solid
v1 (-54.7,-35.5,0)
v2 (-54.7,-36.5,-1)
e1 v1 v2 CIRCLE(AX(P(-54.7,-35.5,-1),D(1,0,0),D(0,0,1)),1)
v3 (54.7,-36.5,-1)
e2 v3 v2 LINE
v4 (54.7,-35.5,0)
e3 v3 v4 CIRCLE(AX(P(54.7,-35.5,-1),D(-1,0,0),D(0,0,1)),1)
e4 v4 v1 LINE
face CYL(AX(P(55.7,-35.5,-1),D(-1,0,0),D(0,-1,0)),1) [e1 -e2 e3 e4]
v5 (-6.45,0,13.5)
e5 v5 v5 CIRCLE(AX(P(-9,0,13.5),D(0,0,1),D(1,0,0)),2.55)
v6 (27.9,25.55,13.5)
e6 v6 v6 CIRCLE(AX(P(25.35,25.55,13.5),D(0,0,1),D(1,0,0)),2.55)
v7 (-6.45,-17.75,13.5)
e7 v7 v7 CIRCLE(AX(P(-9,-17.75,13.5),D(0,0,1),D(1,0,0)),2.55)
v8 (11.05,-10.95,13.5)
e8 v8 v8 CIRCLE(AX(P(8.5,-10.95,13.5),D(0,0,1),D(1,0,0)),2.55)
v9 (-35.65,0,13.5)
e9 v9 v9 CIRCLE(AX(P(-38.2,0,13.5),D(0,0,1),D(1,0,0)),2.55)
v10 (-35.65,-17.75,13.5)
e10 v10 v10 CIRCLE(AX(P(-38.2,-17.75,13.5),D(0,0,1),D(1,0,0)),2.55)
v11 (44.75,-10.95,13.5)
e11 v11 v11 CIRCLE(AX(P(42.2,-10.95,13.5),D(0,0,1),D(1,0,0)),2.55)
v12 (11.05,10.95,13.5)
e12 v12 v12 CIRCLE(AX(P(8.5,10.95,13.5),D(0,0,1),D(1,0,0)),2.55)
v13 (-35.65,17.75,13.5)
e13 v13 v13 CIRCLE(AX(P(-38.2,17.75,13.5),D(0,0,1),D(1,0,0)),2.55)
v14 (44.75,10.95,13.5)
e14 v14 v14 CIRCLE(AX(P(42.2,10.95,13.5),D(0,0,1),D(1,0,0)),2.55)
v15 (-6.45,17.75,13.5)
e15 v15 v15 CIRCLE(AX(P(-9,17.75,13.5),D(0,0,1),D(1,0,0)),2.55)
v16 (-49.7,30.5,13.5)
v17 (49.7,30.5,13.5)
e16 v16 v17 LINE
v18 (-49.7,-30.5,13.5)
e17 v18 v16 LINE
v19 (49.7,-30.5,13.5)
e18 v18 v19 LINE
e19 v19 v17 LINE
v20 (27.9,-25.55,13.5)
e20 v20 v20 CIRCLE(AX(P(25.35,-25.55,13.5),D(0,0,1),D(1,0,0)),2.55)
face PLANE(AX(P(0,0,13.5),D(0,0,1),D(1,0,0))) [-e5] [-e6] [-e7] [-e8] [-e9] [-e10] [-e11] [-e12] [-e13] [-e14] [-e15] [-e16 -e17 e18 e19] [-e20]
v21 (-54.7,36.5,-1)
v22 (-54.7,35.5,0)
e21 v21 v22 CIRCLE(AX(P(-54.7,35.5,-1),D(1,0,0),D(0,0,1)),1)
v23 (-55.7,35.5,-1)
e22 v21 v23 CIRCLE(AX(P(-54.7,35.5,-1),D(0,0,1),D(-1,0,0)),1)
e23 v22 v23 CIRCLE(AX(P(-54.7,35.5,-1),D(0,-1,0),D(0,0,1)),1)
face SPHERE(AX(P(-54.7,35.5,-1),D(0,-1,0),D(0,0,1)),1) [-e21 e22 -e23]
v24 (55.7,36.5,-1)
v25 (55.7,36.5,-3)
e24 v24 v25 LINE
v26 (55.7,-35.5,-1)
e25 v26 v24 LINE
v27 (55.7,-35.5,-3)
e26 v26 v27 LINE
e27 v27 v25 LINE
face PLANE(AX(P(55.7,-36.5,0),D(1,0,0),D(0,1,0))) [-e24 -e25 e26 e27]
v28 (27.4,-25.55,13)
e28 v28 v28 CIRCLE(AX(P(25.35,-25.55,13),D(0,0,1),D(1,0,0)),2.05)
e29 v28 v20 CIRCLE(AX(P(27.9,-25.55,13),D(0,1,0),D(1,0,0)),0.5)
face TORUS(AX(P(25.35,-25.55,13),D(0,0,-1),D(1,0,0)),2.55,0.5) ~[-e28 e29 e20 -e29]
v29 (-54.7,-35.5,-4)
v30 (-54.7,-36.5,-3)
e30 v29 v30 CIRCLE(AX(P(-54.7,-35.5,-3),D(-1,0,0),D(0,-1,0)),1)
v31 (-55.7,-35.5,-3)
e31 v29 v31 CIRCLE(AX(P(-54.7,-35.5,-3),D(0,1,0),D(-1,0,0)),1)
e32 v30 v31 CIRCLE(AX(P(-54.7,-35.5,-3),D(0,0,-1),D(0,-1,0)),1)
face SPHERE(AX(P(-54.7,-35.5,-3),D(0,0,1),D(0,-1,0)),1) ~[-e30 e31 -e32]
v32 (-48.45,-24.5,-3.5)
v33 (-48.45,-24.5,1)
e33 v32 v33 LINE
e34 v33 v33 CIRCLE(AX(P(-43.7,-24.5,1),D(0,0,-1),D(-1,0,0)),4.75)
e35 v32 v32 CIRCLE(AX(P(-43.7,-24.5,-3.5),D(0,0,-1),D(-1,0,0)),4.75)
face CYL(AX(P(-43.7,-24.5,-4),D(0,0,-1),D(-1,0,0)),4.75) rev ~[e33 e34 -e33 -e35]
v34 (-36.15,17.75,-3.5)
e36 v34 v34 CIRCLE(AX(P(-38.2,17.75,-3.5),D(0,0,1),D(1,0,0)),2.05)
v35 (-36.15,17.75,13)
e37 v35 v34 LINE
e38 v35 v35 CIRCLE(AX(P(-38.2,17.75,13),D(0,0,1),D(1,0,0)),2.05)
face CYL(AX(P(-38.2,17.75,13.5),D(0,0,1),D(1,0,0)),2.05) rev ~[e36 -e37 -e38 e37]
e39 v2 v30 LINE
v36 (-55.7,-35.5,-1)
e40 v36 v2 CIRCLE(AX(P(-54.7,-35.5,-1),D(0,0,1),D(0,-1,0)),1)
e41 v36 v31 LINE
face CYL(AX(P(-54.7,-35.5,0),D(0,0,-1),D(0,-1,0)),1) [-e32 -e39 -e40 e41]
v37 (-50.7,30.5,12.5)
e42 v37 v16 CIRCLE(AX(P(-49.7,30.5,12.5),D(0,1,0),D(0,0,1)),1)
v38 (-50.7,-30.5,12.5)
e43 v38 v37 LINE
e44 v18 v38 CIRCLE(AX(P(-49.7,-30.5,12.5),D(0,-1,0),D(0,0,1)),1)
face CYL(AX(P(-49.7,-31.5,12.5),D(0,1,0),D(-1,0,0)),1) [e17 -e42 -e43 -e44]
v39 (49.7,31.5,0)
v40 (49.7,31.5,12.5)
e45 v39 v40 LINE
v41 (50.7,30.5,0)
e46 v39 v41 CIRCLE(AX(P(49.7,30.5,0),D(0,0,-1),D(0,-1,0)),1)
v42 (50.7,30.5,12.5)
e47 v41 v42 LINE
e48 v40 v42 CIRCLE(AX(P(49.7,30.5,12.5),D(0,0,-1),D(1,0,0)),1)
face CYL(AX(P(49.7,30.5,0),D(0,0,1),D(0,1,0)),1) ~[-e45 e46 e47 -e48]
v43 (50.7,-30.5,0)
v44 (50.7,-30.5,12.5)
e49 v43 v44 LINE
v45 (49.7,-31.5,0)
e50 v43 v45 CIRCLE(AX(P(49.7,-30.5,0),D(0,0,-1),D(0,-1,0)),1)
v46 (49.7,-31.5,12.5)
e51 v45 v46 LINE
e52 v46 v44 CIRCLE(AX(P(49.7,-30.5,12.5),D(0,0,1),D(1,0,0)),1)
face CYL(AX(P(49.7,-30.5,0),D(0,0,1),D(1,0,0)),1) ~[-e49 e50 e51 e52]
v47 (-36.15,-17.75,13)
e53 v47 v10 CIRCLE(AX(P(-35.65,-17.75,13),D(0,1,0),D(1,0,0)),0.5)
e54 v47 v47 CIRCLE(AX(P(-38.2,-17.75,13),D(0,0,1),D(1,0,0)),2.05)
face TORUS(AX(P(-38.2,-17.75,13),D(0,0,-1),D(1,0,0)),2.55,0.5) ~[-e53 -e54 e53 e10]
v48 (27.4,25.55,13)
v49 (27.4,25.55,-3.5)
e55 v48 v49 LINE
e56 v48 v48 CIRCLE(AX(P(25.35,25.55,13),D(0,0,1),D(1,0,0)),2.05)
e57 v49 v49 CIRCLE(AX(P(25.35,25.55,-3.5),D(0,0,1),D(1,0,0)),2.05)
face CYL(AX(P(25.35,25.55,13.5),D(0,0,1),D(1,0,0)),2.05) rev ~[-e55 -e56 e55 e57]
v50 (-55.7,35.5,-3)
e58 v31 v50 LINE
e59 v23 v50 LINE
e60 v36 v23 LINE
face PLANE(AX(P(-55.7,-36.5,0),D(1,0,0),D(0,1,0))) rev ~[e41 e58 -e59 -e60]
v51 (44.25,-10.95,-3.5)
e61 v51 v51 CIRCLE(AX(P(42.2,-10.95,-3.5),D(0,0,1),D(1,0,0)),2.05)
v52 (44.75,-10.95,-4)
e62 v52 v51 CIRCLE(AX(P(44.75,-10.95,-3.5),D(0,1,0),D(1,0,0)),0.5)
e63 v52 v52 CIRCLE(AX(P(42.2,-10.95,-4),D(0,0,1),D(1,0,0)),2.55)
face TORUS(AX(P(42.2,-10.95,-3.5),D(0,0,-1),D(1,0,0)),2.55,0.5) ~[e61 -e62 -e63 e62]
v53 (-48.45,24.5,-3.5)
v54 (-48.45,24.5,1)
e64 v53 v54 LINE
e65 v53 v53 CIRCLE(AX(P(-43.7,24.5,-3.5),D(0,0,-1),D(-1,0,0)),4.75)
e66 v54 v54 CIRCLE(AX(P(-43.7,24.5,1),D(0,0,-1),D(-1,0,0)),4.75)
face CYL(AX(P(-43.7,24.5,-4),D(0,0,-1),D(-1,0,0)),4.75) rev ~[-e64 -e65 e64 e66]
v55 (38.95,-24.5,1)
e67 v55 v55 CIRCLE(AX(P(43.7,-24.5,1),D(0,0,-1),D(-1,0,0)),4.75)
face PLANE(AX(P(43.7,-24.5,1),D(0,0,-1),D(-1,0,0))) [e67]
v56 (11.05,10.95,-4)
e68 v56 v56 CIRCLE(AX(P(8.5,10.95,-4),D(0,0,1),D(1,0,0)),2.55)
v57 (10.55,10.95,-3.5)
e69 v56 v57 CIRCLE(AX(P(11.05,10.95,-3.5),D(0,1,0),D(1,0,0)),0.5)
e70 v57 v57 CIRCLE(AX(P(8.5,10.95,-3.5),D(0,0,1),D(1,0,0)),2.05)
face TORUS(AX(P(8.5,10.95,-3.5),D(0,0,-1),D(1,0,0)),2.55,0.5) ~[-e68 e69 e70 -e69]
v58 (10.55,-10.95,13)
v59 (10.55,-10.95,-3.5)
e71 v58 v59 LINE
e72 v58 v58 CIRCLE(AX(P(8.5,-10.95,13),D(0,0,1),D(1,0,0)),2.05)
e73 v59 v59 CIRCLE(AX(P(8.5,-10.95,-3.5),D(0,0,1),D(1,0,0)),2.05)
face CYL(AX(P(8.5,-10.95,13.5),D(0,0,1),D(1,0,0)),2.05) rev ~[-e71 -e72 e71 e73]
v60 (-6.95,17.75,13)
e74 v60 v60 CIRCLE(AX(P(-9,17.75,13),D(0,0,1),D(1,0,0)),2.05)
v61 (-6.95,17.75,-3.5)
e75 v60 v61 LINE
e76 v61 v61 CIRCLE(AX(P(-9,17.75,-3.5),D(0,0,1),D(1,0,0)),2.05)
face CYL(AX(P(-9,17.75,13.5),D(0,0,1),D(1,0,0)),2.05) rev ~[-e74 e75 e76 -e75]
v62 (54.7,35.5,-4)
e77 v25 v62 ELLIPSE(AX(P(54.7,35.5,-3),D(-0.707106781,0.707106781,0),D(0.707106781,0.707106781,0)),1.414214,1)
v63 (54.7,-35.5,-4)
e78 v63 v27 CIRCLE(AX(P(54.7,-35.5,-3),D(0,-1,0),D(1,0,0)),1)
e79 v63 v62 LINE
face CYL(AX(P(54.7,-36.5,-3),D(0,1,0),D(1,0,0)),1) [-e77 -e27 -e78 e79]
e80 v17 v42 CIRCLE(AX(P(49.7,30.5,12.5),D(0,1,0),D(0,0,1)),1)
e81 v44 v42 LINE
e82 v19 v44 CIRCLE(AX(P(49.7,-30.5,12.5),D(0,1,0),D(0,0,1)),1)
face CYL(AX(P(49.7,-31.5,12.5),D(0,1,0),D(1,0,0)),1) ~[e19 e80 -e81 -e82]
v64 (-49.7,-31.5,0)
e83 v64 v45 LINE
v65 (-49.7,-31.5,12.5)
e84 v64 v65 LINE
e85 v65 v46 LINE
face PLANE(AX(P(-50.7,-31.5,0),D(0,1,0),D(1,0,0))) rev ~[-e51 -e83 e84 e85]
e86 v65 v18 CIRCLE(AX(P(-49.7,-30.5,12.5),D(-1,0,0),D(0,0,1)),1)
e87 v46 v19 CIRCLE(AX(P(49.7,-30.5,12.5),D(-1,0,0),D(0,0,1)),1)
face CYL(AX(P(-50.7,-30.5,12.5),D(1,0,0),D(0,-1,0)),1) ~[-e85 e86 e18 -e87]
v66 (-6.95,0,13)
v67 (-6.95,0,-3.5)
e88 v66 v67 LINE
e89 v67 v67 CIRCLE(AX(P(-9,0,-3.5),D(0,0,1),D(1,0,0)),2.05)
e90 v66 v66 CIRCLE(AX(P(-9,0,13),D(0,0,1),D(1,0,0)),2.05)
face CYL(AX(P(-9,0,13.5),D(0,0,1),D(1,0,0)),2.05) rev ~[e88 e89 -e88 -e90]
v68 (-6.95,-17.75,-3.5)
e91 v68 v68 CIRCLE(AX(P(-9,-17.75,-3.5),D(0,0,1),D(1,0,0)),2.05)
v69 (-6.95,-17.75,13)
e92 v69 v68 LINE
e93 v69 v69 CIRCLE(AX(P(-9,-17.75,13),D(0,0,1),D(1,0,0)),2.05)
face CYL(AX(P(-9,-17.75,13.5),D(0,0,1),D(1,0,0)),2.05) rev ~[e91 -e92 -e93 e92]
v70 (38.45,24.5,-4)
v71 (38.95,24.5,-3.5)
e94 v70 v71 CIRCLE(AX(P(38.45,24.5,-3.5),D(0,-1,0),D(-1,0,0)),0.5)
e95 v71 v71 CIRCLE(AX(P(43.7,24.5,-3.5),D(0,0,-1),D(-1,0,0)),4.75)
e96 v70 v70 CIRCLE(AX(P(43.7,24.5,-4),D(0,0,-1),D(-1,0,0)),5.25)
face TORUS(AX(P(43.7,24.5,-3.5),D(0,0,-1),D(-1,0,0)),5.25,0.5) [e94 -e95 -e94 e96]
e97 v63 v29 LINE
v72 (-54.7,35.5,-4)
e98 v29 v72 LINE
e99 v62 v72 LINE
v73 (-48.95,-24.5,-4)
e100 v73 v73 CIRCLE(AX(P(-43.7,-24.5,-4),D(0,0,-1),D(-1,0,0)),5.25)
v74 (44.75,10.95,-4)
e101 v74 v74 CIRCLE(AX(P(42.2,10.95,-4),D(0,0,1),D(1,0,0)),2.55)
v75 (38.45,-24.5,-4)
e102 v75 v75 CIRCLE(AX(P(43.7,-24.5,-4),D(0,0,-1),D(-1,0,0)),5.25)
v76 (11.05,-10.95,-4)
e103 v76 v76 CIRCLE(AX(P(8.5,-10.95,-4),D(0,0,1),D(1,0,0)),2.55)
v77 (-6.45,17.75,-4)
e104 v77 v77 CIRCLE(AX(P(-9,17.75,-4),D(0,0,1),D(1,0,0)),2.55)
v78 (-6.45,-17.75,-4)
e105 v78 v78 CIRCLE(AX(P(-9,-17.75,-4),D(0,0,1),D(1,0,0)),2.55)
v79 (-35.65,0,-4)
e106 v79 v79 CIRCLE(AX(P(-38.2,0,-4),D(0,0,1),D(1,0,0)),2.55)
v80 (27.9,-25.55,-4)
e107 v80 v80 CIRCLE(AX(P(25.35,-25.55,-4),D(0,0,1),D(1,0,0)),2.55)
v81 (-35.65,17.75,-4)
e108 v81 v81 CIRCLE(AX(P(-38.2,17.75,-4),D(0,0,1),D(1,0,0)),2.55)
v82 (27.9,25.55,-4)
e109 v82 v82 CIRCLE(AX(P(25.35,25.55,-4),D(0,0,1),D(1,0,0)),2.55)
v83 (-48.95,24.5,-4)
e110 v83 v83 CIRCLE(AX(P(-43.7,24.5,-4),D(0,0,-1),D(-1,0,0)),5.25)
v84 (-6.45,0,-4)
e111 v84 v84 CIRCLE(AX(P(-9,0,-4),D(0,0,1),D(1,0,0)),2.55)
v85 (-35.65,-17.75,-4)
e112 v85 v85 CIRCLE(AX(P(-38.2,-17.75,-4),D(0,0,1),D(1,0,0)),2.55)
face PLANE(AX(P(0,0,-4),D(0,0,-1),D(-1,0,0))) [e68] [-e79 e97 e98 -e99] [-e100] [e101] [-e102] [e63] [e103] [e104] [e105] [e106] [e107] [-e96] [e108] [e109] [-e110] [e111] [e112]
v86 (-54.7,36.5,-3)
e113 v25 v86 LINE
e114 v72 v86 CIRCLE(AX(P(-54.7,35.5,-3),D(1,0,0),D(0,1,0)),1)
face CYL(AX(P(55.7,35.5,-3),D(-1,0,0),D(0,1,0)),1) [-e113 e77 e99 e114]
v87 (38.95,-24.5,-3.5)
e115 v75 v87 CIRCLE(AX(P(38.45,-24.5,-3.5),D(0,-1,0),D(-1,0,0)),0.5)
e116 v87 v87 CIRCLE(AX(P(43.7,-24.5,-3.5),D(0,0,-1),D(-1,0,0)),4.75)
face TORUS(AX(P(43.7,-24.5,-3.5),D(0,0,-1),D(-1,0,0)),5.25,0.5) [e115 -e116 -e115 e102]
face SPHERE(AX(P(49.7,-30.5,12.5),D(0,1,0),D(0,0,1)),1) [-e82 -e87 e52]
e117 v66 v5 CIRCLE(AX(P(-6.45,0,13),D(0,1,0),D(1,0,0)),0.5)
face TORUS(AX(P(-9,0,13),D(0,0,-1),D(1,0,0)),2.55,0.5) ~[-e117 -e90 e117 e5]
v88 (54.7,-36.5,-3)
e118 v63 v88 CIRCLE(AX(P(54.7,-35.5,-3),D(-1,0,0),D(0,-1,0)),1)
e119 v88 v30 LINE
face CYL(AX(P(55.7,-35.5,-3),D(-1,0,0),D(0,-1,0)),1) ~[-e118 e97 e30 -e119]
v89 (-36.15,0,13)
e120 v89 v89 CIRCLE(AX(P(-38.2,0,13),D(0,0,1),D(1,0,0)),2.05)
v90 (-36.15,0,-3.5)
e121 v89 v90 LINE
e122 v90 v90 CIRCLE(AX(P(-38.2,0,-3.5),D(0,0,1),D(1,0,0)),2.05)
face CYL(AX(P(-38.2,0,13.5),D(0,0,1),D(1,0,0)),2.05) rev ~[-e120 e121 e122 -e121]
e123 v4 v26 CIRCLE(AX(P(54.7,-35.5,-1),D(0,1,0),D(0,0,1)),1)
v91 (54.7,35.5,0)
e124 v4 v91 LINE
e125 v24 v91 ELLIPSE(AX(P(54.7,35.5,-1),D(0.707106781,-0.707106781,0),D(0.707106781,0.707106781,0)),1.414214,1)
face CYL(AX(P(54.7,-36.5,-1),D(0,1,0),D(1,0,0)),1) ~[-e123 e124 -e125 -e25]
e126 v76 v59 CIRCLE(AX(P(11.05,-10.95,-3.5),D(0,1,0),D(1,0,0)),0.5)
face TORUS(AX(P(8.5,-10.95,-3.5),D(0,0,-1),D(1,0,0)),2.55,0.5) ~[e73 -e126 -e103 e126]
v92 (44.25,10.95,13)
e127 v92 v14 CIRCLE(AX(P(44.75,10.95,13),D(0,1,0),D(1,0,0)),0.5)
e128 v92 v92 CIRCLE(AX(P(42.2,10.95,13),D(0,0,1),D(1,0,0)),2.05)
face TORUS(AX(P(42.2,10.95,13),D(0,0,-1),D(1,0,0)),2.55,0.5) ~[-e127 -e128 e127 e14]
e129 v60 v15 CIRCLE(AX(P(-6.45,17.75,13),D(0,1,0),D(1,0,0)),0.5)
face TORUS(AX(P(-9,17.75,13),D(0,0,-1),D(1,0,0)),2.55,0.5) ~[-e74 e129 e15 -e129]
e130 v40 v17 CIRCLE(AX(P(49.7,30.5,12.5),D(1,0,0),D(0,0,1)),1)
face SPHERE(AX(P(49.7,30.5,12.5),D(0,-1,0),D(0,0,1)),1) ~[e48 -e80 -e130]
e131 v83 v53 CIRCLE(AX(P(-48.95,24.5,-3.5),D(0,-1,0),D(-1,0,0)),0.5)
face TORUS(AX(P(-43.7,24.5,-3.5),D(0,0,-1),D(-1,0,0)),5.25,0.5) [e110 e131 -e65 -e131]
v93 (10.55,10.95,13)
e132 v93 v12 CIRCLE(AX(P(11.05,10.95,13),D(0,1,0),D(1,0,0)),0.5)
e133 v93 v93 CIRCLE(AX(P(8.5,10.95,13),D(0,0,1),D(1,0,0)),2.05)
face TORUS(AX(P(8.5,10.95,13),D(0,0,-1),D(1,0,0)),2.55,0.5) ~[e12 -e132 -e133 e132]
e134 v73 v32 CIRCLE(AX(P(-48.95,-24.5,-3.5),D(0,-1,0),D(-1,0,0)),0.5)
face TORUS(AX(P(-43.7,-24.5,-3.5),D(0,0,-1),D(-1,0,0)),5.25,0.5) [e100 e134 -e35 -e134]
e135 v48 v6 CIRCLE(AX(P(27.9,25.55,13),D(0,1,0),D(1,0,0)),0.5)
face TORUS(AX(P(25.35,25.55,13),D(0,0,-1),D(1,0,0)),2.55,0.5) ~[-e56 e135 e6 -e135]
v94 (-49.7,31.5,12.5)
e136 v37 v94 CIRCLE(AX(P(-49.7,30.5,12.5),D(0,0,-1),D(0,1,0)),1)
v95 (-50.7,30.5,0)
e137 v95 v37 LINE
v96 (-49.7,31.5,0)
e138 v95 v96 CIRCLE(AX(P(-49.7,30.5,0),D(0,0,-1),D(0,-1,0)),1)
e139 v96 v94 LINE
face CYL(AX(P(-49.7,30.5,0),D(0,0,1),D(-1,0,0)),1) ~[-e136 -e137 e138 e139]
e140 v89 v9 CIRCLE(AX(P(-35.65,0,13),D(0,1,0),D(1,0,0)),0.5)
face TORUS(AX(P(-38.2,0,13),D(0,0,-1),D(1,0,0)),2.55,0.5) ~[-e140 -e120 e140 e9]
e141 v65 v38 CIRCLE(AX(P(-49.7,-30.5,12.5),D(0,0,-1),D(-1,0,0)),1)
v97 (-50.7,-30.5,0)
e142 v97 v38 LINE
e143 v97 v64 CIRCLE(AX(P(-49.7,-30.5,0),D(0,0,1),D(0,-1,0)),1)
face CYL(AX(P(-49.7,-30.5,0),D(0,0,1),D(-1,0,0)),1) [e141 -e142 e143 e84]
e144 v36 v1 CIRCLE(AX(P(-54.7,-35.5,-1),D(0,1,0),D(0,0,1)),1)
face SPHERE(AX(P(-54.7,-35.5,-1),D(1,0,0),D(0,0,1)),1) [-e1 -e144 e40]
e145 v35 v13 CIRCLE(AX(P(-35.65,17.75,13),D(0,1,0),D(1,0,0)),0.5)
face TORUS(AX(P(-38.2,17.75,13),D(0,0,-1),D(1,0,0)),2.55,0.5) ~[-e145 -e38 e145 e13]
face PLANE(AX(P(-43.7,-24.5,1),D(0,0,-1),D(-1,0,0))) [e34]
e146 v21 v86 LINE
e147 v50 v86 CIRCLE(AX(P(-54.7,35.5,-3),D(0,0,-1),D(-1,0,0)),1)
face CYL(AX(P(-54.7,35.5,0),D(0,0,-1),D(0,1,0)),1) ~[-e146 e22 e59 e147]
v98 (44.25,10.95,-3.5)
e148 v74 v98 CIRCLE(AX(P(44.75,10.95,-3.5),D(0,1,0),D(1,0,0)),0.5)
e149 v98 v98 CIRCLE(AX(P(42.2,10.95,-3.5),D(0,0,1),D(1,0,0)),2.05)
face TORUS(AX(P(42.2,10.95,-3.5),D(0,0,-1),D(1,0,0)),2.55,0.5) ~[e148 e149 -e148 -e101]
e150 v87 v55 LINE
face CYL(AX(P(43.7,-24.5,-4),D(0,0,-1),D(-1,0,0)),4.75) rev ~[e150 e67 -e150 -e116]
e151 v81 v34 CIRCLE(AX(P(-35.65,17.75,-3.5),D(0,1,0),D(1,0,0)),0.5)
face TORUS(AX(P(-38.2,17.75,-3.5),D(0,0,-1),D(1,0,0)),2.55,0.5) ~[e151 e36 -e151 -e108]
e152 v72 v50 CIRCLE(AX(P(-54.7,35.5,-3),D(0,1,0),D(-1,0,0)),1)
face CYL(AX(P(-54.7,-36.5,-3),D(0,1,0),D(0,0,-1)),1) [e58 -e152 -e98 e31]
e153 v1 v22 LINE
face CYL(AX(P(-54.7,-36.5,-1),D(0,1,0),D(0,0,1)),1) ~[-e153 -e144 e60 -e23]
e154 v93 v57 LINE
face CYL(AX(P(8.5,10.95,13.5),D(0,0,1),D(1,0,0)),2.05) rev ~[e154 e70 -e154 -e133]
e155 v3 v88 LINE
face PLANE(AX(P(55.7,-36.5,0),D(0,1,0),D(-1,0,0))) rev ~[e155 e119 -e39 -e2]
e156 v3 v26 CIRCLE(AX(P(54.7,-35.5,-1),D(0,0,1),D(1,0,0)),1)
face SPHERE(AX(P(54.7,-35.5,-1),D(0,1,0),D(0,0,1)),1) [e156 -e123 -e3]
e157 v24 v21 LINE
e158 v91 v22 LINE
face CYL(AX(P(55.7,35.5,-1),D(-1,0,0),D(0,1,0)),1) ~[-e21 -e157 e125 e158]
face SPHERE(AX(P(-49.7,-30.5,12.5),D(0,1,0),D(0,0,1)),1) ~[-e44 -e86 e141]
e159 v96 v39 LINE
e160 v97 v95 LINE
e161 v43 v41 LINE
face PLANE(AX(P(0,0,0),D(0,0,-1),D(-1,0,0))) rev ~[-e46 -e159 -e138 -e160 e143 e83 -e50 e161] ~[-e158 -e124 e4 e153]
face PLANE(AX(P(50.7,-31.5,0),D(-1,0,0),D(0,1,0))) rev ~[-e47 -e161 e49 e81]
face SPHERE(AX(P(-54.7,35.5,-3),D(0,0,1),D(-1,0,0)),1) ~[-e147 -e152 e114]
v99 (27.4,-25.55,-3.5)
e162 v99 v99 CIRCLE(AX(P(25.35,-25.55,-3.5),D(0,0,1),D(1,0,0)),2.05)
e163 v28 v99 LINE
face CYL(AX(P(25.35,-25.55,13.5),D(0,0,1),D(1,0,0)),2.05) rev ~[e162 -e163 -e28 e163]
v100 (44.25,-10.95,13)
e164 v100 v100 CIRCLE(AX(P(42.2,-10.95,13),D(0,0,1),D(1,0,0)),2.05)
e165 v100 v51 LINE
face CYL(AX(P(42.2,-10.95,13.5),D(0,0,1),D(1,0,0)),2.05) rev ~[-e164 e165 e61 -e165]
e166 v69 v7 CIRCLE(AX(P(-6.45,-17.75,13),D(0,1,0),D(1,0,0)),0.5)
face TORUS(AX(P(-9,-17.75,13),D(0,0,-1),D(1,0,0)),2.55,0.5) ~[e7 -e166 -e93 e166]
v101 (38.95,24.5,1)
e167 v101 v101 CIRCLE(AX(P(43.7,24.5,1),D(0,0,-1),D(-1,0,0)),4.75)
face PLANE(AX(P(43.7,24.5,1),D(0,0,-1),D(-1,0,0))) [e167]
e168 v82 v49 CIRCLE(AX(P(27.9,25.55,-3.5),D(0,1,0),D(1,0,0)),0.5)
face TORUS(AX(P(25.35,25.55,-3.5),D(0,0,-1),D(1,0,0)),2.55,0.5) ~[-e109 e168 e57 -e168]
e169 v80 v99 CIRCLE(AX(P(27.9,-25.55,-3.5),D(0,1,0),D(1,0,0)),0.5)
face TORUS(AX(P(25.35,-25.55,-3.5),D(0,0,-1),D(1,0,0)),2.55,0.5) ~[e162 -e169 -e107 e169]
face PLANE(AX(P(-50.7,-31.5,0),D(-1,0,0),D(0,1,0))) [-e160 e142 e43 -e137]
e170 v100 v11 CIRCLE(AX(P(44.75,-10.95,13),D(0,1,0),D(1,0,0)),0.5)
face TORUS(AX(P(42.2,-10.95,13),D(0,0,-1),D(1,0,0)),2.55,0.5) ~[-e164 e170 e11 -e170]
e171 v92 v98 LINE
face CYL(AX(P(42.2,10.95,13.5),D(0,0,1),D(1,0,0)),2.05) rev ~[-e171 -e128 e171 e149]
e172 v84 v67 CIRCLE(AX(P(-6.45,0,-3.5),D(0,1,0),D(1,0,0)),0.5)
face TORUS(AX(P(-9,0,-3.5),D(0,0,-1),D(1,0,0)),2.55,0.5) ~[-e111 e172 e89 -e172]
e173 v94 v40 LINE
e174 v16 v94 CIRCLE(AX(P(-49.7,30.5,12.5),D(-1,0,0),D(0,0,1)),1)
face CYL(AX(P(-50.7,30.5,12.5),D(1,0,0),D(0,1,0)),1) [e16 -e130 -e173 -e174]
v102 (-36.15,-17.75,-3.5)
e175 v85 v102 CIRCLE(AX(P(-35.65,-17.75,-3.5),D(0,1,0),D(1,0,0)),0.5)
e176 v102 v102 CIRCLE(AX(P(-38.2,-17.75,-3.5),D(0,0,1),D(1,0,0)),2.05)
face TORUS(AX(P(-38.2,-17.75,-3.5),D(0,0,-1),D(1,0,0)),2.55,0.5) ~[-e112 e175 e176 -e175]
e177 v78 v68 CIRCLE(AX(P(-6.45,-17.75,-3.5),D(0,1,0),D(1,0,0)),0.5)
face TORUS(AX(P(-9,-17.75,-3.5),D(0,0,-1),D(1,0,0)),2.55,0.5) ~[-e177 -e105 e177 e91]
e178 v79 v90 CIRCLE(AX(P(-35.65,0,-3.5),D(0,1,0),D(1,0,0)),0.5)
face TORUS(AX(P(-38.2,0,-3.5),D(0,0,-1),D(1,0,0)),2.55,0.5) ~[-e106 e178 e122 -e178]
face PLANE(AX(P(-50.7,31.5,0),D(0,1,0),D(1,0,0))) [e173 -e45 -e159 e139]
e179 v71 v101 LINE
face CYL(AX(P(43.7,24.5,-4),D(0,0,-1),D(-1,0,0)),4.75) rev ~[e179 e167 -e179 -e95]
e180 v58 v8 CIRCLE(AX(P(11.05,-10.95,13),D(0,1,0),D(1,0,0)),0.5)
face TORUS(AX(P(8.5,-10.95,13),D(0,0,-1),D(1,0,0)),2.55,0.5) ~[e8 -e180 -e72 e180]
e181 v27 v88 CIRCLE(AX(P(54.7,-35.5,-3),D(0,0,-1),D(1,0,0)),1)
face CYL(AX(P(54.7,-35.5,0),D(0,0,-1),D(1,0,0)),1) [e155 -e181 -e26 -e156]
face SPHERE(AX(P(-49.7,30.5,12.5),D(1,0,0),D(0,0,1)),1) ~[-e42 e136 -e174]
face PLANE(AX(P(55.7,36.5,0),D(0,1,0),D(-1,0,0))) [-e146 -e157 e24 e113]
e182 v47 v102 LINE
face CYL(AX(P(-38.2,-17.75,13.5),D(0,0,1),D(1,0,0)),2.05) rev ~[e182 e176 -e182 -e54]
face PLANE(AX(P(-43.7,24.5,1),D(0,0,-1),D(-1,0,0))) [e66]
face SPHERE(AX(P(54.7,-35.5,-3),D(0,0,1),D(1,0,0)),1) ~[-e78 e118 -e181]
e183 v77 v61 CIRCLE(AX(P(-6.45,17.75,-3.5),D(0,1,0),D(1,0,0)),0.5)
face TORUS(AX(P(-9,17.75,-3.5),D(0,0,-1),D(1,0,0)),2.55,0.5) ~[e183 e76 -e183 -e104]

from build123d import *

# Parameters (mm, degrees)
SKETCH_1_W          = 101.4
SKETCH_1_H          = 63
EXTRUDE_1_DEPTH     = 13.5
SKETCH_3_W          = 111.4
SKETCH_3_H          = 73
EXTRUDE_2_DEPTH     = 4
FILLET_1_R          = 1
SKETCH_2_R          = 2.05
CUT_EXTRUDE_1_DEPTH = 69.854847324
FILLET_2_R          = 0.5
SKETCH_4_R          = 4.75
CUT_EXTRUDE_2_DEPTH = 5
FILLET_3_R          = 0.5


with BuildPart() as part:
    # 스케치1 → 보스-돌출1 (new body)
    with BuildSketch(Plane.XY):
        Rectangle(SKETCH_1_W, SKETCH_1_H)
    extrude(amount=EXTRUDE_1_DEPTH)

    # 스케치3 → 보스-돌출2 (add)
    with BuildSketch(Plane(origin=(0, 0, 0), x_dir=(-1, 0, 0), z_dir=(0, 0, -1))):
        Rectangle(SKETCH_3_W, SKETCH_3_H)
    extrude(amount=EXTRUDE_2_DEPTH)

    # 필렛1
    fillet_1_edges = [part.edges().sort_by_distance(p)[0] for p in [
        (50.7, 0, 13.5),
        (0, 31.5, 13.5),
        (55.7, 0, 0),
        (0, -36.5, 0),
        (55.7, -36.5, -2),
        (-55.7, 0, 0),
        (-55.7, -36.5, -2),
        (0, 36.5, 0),
        (-55.7, 36.5, -2),
        (55.7, 0, -4),
        (0, -36.5, -4),
        (-55.7, 0, -4),
        (0, 36.5, -4),
        (-50.7, 0, 13.5),
        (0, -31.5, 13.5),
        (-50.7, 31.5, 6.75),
        (50.7, 31.5, 6.75),
        (50.7, -31.5, 6.75),
        (-50.7, -31.5, 6.75),
    ]]
    fillet(fillet_1_edges, radius=FILLET_1_R)

    # 스케치2 → 컷-돌출1 (cut, through all)
    with BuildSketch(Plane.XY.offset(13.5)):
        with Locations((-38.2, 17.75)):
            Circle(SKETCH_2_R)
        with Locations((-38.2, 0)):
            Circle(SKETCH_2_R)
        with Locations((-38.2, -17.75)):
            Circle(SKETCH_2_R)
        with Locations((-9, 17.75)):
            Circle(SKETCH_2_R)
        with Locations((-9, 0)):
            Circle(SKETCH_2_R)
        with Locations((-9, -17.75)):
            Circle(SKETCH_2_R)
        with Locations((25.35, 25.55)):
            Circle(SKETCH_2_R)
        with Locations((8.5, 10.95)):
            Circle(SKETCH_2_R)
        with Locations((8.5, -10.95)):
            Circle(SKETCH_2_R)
        with Locations((42.2, 10.95)):
            Circle(SKETCH_2_R)
        with Locations((42.2, -10.95)):
            Circle(SKETCH_2_R)
        with Locations((25.35, -25.55)):
            Circle(SKETCH_2_R)
    extrude(amount=-CUT_EXTRUDE_1_DEPTH, mode=Mode.SUBTRACT)

    # 필렛2
    fillet_2_edges = [part.edges().sort_by_distance(p)[0] for p in [
        (-40.25, 0, -4),
        (-40.25, 0, 13.5),
        (-40.25, -17.75, -4),
        (-40.25, -17.75, 13.5),
        (-11.05, 17.75, -4),
        (-11.05, 17.75, 13.5),
        (-11.05, 0, -4),
        (-11.05, 0, 13.5),
        (-11.05, -17.75, -4),
        (-11.05, -17.75, 13.5),
        (23.3, -25.55, -4),
        (23.3, -25.55, 13.5),
        (40.15, -10.95, -4),
        (40.15, -10.95, 13.5),
        (40.15, 10.95, -4),
        (40.15, 10.95, 13.5),
        (6.45, -10.95, -4),
        (6.45, -10.95, 13.5),
        (6.45, 10.95, -4),
        (6.45, 10.95, 13.5),
        (23.3, 25.55, -4),
        (23.3, 25.55, 13.5),
        (-40.25, 17.75, -4),
        (-40.25, 17.75, 13.5),
    ]]
    fillet(fillet_2_edges, radius=FILLET_2_R)

    # 스케치4 → 컷-돌출2 (cut)
    with BuildSketch(Plane(origin=(0, 0, -4), x_dir=(-1, 0, 0), z_dir=(0, 0, -1))):
        with Locations((-43.7, 24.5)):
            Circle(SKETCH_4_R)
        with Locations((-43.7, -24.5)):
            Circle(SKETCH_4_R)
        with Locations((43.7, -24.5)):
            Circle(SKETCH_4_R)
        with Locations((43.7, 24.5)):
            Circle(SKETCH_4_R)
    extrude(amount=-CUT_EXTRUDE_2_DEPTH, mode=Mode.SUBTRACT)

    # 필렛3
    fillet_3_edges = [part.edges().sort_by_distance(p)[0] for p in [
        (48.45, 24.5, -4),
        (48.45, -24.5, -4),
        (-38.95, -24.5, -4),
        (-38.95, 24.5, -4),
    ]]
    fillet(fillet_3_edges, radius=FILLET_3_R)


solid = part.part
